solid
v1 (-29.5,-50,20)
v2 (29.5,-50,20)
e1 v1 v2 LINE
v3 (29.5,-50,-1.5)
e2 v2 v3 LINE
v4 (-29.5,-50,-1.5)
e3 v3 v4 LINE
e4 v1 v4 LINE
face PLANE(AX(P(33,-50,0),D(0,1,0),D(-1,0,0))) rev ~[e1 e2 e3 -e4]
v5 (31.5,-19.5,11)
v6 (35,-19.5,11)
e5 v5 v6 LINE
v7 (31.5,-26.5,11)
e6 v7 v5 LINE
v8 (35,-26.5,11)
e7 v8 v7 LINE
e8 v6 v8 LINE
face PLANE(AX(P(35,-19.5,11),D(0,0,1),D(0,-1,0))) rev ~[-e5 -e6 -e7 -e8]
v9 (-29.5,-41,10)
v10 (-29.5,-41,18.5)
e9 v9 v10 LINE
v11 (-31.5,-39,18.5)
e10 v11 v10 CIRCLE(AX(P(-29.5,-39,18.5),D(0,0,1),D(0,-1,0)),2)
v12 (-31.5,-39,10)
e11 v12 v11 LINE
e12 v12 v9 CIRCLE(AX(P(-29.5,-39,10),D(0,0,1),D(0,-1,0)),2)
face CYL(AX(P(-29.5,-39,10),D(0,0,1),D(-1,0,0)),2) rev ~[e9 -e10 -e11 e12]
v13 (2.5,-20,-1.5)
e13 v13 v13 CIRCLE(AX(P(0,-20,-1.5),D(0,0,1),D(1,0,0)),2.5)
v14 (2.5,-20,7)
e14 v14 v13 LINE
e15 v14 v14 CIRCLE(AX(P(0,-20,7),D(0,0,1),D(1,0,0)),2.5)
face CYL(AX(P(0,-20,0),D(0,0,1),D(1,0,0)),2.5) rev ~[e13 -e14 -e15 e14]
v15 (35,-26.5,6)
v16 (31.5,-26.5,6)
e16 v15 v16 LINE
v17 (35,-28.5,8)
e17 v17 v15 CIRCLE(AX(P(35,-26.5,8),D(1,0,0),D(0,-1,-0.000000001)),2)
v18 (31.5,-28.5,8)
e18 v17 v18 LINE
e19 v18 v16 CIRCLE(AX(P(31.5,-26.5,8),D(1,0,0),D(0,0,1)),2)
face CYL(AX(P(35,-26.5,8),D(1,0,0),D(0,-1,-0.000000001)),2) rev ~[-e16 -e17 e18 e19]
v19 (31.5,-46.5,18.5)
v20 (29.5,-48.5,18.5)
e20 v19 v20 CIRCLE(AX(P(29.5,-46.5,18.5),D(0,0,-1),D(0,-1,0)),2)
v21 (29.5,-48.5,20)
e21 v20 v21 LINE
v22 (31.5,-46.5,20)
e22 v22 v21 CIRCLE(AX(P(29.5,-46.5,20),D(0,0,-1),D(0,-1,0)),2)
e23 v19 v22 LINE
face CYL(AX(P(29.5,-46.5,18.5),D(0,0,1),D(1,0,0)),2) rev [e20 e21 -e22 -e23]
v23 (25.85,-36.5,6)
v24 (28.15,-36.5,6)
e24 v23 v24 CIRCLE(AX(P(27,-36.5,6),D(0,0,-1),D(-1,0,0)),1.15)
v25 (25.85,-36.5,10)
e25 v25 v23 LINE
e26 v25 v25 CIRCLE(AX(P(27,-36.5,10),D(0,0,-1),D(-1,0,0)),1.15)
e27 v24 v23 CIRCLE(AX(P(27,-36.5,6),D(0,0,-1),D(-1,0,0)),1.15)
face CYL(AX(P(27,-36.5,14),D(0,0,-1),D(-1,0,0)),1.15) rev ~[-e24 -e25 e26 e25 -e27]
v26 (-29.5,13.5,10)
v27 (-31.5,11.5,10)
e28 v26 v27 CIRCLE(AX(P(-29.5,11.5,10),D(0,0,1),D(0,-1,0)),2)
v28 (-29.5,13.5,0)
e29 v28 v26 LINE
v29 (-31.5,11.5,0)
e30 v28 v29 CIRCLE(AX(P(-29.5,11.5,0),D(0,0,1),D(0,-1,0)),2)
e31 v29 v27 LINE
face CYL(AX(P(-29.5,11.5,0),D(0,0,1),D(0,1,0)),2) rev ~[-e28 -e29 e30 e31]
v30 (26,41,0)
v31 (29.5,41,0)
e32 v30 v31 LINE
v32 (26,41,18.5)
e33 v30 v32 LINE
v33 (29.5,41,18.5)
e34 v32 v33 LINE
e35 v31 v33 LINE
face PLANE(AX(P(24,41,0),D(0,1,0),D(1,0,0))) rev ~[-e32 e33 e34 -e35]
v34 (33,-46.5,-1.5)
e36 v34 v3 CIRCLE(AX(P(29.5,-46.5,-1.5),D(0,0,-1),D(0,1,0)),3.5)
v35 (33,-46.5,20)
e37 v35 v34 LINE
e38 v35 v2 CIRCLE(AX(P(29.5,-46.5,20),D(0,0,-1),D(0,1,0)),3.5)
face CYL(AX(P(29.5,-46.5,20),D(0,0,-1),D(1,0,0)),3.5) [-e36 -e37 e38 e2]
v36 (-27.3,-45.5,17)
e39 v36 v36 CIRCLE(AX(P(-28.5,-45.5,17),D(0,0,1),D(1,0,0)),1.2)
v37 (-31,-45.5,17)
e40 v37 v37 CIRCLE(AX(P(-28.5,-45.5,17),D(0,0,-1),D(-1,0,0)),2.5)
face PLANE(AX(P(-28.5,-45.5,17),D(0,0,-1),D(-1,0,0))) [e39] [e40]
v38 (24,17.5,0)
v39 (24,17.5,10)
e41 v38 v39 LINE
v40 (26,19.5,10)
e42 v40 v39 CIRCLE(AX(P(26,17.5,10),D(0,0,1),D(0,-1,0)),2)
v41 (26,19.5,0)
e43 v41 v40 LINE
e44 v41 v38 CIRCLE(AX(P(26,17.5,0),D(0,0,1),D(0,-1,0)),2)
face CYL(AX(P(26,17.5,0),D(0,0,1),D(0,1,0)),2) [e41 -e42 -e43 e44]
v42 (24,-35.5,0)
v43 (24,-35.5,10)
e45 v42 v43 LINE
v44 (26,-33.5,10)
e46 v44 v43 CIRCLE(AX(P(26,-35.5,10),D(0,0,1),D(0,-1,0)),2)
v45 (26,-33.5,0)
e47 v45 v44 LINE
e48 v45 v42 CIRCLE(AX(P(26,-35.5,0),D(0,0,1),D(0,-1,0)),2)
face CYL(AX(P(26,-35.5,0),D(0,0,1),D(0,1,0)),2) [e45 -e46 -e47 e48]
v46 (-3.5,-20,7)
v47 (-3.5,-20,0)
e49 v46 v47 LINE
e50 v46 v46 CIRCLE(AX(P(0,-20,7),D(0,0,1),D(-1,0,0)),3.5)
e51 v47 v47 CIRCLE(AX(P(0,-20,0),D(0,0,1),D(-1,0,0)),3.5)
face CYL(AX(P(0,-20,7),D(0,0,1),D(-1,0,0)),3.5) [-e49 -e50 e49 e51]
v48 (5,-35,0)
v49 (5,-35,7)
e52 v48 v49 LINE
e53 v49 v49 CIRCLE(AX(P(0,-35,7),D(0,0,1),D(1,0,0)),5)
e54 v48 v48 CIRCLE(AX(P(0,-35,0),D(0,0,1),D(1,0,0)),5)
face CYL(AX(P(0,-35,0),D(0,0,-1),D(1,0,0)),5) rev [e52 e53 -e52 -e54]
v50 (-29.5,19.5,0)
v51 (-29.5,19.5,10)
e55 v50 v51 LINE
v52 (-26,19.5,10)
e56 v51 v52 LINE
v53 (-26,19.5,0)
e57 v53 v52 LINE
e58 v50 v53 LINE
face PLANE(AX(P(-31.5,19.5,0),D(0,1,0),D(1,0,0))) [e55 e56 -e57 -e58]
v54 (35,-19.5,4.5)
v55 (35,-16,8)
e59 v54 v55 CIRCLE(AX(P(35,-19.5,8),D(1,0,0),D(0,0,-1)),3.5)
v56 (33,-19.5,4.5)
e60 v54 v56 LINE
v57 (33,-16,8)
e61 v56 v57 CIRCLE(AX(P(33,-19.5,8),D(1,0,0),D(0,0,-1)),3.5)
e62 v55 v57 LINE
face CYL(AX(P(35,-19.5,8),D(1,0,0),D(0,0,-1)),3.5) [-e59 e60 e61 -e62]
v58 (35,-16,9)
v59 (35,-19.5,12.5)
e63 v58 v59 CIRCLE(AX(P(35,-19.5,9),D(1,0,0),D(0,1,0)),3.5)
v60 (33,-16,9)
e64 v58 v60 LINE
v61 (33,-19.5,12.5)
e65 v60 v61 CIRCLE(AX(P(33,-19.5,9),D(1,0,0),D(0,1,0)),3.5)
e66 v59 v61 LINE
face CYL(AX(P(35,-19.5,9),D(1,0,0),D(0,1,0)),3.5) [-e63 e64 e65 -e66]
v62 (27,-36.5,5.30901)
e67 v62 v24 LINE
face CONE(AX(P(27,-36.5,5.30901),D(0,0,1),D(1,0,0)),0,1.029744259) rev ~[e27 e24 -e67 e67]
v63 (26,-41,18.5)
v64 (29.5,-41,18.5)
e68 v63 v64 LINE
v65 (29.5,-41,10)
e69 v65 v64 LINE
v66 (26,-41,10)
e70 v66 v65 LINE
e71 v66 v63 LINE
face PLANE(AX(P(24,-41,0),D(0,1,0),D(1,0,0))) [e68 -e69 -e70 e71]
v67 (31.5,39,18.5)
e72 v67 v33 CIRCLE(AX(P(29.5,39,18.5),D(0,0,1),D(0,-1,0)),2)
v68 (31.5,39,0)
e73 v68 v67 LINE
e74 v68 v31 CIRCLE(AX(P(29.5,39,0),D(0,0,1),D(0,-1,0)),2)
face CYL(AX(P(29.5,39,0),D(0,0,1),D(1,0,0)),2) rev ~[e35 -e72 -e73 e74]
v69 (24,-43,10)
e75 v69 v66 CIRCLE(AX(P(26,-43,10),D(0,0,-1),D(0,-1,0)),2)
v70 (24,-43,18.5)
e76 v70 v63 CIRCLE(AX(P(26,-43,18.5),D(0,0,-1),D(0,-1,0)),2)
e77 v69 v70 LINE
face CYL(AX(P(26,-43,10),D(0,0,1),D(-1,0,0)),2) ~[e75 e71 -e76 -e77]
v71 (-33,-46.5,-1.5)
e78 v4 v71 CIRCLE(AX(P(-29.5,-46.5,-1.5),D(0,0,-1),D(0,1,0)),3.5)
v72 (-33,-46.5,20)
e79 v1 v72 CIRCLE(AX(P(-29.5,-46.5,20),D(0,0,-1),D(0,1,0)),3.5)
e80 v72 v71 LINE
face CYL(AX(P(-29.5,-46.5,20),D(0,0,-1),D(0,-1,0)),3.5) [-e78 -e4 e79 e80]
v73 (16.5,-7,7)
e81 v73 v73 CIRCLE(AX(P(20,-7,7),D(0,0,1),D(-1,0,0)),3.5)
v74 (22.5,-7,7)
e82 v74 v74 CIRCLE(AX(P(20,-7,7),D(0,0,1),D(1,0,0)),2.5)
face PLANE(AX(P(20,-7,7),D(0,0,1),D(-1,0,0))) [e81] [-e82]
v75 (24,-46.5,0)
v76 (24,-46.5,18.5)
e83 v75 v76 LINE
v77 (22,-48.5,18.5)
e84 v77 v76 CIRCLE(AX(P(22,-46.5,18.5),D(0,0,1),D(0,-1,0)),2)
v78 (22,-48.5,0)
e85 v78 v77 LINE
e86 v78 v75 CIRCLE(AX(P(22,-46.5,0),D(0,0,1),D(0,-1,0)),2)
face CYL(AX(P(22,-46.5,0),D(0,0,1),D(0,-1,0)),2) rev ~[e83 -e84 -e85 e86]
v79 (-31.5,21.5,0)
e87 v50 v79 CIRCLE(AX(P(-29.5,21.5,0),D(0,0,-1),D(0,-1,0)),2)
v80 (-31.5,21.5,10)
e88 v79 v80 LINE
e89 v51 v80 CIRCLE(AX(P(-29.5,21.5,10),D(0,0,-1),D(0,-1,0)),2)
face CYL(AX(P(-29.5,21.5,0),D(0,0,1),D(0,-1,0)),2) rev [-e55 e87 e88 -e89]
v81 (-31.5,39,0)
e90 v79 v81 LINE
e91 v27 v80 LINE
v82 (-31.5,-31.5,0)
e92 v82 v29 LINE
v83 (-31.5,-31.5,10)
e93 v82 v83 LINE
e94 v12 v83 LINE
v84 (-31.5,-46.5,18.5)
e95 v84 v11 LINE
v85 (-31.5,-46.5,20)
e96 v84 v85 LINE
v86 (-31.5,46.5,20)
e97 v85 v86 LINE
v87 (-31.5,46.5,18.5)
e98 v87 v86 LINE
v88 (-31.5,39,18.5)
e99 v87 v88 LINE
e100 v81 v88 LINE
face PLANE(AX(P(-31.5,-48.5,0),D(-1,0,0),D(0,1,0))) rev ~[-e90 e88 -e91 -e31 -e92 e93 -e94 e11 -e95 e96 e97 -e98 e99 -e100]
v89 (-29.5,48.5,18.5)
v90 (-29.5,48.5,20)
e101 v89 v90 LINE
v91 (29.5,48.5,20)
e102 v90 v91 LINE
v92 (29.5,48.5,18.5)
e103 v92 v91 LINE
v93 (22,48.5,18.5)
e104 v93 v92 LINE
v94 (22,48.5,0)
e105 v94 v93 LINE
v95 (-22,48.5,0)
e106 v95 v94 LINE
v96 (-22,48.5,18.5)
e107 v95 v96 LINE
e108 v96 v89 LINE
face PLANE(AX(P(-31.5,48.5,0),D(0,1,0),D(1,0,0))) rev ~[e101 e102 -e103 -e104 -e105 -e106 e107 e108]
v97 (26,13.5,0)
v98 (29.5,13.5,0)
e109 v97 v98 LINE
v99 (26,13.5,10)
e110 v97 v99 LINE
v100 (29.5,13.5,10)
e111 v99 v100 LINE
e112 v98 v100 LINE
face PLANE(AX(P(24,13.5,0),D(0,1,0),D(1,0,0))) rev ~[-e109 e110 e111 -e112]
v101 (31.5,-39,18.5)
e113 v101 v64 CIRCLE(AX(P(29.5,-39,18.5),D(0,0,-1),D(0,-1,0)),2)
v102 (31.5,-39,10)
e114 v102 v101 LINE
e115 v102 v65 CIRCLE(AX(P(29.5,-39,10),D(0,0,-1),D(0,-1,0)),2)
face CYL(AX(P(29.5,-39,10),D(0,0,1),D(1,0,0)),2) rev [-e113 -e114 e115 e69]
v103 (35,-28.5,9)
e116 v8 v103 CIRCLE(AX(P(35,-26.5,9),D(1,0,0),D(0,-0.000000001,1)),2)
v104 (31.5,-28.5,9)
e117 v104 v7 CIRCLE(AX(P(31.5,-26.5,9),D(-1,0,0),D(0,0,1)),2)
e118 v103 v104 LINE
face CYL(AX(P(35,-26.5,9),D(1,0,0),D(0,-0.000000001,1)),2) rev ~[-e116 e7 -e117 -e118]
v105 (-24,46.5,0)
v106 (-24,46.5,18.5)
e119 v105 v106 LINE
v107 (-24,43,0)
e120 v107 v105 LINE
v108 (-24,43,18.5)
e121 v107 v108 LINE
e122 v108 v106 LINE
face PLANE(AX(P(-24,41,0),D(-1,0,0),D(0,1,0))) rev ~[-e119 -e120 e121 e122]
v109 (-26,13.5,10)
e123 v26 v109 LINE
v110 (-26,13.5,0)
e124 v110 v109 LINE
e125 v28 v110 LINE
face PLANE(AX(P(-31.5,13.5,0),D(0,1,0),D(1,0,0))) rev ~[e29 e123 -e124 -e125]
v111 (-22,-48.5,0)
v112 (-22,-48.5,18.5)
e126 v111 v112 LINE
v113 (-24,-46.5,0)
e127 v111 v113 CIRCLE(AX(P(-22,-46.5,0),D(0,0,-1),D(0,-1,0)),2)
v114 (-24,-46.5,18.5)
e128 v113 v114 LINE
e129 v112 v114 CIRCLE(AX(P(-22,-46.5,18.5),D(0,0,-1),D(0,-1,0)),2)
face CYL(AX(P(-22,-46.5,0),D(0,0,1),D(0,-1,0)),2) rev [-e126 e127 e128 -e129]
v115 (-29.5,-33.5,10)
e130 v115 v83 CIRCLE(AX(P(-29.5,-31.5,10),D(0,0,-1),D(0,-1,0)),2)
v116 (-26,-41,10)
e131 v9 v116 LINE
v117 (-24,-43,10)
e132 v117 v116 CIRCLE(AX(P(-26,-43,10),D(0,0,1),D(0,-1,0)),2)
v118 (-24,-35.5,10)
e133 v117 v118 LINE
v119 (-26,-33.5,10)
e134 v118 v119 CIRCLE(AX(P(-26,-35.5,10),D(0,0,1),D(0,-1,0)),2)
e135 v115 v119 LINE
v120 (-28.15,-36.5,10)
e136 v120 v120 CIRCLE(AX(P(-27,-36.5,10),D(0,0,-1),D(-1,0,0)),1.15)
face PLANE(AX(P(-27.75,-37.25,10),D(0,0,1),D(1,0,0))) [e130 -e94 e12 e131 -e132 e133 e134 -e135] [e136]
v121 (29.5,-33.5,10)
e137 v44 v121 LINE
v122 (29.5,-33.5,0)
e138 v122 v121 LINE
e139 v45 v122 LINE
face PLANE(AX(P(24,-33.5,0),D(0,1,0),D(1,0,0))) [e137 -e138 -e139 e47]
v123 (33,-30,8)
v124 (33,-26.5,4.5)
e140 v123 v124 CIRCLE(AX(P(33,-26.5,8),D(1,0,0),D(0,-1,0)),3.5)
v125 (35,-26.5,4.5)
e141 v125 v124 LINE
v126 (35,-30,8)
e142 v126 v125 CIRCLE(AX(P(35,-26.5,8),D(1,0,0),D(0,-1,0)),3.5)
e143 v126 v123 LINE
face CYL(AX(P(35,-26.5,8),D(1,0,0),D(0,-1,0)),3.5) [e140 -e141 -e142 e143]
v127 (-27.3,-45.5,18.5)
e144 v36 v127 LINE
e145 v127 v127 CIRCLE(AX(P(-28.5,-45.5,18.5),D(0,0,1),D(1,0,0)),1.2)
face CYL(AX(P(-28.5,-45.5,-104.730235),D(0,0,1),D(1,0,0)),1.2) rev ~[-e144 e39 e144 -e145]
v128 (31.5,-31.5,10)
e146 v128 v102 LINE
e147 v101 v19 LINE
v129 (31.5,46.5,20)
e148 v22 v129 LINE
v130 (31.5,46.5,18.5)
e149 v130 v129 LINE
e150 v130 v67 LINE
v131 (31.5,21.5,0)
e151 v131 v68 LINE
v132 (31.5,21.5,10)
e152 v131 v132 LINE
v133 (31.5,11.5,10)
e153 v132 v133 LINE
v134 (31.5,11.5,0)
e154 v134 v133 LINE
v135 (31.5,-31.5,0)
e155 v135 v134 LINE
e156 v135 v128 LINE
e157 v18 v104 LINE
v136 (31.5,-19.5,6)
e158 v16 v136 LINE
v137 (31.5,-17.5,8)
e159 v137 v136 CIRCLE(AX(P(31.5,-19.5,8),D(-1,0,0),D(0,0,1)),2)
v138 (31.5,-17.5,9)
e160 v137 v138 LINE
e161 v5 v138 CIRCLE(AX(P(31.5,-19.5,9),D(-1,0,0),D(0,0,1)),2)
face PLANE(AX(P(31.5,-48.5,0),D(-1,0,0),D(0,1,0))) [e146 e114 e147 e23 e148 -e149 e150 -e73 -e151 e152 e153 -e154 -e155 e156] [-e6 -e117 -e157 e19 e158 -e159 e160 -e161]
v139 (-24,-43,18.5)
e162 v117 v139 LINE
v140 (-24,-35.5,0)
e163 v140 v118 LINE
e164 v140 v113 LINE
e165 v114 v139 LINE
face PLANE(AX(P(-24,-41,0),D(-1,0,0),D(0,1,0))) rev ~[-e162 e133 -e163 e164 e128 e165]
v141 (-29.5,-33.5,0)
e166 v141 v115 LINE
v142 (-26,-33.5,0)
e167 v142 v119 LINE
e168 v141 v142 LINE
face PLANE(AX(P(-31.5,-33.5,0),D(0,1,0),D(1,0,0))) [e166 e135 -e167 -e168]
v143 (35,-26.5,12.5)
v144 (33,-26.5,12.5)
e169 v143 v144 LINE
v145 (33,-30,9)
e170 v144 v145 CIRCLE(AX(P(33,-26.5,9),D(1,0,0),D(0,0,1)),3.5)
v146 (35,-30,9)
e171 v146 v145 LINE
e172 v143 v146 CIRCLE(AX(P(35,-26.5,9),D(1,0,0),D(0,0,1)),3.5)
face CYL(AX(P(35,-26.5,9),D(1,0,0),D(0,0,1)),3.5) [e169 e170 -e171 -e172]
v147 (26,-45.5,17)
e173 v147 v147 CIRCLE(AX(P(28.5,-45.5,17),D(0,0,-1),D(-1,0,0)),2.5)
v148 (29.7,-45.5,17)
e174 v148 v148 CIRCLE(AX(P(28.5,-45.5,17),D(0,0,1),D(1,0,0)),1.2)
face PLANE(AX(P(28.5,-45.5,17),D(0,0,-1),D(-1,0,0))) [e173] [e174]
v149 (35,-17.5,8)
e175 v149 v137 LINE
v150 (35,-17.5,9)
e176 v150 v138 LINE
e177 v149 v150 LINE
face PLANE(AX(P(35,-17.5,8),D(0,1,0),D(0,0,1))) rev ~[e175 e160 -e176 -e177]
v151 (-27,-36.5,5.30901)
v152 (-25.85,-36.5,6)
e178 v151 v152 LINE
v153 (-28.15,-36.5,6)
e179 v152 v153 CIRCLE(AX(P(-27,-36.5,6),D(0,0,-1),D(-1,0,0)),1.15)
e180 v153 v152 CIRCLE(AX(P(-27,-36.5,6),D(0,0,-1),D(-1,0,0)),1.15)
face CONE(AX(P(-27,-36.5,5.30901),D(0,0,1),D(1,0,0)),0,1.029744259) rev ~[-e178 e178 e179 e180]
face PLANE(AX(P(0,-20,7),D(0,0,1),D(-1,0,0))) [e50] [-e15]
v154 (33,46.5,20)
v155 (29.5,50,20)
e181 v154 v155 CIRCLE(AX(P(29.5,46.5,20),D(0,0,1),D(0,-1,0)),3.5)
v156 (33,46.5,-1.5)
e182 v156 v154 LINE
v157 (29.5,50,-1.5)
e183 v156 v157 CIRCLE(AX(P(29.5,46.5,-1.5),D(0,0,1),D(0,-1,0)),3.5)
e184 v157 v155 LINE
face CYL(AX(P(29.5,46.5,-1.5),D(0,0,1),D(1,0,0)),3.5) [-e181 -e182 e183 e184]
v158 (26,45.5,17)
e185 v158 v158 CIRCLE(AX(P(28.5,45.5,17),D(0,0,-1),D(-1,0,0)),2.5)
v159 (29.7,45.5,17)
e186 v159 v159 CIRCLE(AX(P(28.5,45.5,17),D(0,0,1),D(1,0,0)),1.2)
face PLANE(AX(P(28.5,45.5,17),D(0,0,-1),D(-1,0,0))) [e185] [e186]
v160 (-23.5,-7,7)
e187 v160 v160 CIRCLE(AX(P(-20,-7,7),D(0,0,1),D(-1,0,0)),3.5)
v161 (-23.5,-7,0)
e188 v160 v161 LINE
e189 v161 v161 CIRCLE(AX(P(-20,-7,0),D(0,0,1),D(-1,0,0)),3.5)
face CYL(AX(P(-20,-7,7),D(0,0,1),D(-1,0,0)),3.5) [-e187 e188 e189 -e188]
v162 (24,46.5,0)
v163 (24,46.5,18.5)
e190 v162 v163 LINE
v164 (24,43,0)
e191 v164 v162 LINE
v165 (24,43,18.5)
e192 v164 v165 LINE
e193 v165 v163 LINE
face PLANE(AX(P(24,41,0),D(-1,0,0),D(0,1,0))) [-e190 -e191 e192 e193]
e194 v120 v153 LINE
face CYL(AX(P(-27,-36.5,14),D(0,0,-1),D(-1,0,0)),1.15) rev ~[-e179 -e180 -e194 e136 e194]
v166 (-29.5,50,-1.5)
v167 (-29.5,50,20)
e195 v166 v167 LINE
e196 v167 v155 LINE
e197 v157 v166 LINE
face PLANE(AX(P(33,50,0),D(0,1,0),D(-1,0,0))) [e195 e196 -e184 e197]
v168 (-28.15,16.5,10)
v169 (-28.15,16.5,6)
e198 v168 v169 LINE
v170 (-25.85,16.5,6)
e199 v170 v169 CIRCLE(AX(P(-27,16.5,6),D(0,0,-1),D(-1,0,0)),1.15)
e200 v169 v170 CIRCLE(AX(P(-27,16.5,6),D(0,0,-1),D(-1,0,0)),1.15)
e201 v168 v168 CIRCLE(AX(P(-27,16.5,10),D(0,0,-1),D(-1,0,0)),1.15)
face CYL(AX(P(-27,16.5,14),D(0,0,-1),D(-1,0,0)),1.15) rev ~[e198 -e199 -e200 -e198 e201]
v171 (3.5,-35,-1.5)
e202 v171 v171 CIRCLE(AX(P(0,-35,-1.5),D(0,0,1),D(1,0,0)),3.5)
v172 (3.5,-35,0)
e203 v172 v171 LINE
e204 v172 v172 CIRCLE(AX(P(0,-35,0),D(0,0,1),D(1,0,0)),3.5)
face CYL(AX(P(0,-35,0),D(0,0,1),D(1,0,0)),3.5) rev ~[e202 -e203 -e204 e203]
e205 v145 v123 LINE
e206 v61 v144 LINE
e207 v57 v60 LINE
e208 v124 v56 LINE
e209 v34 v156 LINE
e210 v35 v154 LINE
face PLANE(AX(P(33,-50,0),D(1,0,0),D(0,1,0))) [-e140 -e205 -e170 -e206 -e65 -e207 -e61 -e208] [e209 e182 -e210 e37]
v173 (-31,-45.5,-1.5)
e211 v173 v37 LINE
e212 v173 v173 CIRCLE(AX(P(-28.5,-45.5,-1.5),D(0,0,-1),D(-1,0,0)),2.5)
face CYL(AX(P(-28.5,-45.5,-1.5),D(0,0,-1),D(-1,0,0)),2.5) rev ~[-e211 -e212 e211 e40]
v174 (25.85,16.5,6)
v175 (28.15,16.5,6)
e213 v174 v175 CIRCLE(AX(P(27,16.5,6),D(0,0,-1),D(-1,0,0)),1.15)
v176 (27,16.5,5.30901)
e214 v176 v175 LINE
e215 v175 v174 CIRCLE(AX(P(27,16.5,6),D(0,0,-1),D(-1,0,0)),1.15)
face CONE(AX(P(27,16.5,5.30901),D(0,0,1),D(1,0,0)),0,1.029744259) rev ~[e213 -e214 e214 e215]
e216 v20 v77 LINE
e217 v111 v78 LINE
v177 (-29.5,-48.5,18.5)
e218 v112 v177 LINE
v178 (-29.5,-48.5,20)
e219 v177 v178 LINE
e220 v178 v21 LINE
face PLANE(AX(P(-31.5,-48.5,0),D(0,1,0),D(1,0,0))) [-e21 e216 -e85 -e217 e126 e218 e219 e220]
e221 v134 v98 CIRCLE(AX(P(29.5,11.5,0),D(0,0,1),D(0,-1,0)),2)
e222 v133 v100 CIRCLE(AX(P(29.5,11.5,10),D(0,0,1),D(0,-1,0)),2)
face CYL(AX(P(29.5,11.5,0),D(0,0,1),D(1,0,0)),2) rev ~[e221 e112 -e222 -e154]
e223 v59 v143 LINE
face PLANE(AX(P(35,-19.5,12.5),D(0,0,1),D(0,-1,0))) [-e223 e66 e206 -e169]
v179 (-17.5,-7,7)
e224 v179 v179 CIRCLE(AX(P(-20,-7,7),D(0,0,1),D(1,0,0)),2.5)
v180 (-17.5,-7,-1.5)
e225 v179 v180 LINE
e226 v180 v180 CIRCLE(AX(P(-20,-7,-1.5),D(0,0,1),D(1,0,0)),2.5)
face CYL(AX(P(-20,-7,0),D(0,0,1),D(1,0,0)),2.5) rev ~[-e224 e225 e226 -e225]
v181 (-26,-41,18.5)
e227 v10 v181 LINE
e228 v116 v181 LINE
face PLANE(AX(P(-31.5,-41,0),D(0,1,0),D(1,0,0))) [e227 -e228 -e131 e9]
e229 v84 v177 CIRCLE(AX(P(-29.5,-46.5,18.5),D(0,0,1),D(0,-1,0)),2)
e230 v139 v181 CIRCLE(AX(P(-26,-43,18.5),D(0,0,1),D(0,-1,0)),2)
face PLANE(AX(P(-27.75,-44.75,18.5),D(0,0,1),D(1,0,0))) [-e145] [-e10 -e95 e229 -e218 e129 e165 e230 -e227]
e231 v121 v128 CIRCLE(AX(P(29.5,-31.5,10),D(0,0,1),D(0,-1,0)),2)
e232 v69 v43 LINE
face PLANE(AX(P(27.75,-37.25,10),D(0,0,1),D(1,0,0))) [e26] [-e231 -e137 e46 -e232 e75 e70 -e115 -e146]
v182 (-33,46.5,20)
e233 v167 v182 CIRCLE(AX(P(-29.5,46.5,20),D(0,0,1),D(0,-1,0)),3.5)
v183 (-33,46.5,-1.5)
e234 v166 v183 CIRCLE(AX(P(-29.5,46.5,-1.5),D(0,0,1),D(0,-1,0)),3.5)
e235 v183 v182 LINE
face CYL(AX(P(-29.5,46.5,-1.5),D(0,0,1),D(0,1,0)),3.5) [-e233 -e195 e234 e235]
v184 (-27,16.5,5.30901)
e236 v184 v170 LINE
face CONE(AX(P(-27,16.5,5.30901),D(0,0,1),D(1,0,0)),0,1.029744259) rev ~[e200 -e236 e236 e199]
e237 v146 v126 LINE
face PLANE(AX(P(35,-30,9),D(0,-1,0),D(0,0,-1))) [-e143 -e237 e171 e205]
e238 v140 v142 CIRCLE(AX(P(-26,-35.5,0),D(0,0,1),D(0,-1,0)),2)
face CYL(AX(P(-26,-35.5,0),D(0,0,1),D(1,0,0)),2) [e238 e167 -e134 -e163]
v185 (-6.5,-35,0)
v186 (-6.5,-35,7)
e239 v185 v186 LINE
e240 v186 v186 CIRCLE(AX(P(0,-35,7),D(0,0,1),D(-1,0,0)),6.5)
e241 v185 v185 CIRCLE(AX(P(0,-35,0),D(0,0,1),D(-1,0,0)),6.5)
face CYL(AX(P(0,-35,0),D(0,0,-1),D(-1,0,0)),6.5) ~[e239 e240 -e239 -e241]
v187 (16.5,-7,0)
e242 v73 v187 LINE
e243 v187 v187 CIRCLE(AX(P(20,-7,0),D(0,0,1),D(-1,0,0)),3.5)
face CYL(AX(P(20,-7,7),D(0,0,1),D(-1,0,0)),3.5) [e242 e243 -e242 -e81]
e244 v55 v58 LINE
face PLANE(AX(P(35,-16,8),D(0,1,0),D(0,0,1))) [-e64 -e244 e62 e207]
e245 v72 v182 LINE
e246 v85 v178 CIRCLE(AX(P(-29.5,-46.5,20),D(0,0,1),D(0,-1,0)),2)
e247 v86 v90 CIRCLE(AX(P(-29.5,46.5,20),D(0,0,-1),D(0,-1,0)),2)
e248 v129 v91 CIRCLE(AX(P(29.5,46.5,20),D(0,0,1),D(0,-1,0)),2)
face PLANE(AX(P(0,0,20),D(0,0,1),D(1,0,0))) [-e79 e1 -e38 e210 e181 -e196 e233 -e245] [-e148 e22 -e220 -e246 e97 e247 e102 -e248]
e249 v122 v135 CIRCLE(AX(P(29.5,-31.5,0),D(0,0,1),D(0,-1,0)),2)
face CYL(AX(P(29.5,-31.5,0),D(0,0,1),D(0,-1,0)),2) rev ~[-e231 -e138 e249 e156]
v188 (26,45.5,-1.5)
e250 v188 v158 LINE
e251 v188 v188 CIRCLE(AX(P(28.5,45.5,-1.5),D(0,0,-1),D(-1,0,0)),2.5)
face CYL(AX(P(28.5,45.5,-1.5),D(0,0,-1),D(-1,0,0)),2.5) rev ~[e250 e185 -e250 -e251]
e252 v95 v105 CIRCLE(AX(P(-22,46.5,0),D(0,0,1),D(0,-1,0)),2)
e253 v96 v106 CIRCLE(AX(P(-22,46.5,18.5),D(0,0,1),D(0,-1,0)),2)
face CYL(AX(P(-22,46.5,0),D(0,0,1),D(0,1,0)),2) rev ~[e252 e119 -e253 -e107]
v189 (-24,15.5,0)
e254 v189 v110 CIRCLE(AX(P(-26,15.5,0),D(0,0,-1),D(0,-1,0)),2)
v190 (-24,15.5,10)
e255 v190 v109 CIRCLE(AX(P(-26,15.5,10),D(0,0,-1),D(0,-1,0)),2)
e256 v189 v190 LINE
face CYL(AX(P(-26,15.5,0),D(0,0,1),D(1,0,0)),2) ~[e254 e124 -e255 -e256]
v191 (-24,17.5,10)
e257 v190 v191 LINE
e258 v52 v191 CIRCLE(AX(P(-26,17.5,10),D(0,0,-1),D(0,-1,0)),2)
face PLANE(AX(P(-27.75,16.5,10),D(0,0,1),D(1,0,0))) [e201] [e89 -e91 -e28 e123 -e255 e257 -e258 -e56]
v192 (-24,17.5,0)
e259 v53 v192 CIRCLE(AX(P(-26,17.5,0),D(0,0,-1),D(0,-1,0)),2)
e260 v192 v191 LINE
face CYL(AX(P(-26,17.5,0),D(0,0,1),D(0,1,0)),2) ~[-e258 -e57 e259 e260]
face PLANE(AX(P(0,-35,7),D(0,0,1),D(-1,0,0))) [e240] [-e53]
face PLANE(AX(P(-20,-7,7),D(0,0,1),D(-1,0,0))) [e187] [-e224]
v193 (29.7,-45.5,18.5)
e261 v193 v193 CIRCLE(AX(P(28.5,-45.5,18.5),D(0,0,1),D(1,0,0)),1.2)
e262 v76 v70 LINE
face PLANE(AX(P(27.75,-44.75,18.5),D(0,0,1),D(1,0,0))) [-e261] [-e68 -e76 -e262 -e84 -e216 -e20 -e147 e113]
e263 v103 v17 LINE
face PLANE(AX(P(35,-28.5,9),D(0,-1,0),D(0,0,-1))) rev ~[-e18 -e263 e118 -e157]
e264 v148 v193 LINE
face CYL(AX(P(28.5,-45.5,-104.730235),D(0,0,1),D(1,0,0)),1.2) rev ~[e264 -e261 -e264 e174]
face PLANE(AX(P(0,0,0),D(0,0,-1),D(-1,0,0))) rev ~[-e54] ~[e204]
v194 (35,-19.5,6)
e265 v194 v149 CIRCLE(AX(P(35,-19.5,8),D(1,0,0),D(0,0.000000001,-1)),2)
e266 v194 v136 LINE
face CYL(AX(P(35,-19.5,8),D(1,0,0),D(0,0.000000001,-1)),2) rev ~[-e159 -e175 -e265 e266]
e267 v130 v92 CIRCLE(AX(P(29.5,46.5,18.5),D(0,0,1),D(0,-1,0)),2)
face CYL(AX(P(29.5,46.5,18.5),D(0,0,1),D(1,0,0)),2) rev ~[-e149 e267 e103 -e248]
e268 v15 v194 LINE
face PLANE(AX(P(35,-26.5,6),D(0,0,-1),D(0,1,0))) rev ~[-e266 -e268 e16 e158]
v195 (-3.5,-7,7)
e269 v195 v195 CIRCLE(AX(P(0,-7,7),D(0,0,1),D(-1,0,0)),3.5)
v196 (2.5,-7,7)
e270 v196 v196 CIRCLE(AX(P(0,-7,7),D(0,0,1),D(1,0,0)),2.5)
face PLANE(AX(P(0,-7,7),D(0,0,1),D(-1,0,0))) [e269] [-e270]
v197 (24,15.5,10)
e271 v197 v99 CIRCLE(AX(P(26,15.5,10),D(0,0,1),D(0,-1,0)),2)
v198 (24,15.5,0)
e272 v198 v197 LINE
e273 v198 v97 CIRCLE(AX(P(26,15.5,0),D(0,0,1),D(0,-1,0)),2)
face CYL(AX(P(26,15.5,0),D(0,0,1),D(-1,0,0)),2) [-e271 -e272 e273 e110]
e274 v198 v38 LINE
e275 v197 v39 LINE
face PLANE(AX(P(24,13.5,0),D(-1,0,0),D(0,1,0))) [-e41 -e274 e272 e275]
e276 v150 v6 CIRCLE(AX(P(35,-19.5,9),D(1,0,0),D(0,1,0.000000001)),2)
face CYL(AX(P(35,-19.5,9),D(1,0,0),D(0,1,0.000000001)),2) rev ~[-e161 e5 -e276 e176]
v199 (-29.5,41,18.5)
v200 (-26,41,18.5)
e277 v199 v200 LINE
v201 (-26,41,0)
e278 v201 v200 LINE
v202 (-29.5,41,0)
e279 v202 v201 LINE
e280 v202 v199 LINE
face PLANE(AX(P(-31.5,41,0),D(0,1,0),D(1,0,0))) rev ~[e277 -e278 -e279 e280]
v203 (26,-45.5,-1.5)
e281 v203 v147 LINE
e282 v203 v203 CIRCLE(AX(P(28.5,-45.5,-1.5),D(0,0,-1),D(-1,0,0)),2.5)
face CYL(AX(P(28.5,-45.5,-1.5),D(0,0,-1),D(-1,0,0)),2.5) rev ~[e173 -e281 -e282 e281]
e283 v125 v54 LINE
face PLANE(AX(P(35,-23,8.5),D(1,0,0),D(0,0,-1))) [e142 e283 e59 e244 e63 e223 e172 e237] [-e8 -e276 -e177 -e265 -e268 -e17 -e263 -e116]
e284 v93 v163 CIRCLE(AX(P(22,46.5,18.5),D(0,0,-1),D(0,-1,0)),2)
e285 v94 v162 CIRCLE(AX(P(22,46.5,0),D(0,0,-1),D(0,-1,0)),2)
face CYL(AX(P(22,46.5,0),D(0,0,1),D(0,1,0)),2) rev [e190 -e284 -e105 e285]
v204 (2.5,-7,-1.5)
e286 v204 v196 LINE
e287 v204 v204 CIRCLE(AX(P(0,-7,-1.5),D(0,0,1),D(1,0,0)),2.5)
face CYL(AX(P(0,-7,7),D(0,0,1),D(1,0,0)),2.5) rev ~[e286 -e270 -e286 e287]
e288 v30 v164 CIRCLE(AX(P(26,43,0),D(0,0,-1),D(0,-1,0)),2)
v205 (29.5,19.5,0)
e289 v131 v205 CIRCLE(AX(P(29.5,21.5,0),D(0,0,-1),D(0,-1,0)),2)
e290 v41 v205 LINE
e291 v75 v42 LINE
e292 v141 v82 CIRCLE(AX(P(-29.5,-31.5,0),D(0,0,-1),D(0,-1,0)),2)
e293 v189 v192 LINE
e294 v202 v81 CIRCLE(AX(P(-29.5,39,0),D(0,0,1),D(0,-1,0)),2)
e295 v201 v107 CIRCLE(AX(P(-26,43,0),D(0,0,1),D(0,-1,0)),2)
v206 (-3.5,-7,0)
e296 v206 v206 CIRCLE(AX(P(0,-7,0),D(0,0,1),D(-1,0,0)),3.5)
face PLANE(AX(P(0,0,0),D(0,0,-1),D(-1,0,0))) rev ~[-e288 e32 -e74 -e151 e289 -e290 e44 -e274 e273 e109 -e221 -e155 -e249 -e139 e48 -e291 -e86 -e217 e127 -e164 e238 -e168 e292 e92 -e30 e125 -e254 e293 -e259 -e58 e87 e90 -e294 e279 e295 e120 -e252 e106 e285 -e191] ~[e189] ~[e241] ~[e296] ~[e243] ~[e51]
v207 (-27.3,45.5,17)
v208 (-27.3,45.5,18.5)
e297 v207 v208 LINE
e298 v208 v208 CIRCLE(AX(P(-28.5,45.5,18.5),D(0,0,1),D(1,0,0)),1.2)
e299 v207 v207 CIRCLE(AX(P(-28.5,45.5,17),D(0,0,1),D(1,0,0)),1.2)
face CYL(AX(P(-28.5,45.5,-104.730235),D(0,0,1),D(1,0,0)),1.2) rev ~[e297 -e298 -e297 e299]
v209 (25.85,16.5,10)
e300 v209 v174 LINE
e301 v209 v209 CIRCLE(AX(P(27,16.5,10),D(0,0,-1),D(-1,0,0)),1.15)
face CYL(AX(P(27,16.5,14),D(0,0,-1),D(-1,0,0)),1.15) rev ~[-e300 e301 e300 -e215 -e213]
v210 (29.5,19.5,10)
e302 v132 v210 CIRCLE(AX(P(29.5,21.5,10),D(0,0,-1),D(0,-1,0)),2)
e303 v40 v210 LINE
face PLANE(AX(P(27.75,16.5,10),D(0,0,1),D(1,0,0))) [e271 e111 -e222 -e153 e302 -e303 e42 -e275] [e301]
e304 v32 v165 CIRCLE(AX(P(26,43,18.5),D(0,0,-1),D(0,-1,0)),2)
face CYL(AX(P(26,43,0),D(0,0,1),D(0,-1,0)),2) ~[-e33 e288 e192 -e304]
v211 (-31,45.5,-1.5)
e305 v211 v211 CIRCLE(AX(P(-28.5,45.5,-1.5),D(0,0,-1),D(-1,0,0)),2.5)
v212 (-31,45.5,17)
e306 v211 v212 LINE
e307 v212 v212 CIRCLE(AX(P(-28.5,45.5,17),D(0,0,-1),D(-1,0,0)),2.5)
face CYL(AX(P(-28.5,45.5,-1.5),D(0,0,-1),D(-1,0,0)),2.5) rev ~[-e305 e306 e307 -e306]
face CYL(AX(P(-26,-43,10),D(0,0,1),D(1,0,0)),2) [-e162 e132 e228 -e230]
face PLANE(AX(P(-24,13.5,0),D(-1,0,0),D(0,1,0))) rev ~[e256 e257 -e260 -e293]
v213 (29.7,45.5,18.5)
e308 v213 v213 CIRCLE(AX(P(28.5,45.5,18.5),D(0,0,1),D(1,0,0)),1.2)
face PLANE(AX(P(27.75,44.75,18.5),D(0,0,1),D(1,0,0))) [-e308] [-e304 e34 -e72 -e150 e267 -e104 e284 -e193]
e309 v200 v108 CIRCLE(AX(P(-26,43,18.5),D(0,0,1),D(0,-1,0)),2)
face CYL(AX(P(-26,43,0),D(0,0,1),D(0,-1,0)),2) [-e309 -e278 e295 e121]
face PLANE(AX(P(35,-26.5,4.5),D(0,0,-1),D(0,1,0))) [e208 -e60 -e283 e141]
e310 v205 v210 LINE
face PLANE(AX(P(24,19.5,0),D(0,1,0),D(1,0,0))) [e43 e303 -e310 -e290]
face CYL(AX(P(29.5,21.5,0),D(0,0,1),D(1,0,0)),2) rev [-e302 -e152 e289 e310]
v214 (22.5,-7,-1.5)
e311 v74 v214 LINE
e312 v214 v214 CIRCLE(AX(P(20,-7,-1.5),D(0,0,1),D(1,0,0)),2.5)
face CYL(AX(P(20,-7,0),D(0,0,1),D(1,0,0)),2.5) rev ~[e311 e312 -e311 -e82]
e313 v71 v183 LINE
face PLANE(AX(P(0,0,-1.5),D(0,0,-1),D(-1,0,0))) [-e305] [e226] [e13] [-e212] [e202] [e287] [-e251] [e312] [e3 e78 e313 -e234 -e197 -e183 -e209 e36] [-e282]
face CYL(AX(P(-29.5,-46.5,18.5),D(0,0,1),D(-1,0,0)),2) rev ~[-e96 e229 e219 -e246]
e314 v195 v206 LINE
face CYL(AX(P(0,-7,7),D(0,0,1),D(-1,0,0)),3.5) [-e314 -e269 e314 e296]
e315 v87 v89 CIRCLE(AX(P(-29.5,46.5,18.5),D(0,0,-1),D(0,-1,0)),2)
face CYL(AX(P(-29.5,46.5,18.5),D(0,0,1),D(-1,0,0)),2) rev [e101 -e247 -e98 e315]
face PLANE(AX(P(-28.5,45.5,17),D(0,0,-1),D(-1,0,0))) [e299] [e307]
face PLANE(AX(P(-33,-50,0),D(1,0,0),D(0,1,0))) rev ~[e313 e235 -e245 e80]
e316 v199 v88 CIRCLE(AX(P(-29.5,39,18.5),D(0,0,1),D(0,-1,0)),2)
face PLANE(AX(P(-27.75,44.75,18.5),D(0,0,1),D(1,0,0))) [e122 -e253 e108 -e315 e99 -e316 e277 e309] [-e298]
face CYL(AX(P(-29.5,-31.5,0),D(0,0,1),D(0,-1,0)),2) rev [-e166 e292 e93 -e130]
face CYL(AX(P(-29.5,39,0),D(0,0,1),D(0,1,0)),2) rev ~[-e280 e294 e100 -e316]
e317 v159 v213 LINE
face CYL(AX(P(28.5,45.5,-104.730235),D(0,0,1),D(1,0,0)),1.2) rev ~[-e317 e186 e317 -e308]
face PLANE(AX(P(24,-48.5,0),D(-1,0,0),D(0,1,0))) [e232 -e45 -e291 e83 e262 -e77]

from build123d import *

# Parameters (mm, degrees)
SKETCH_1_W              = 66
SKETCH_1_H              = 100
SKETCH_1_W_2            = 63
SKETCH_1_H_2            = 97
EXTRUDE_1_DEPTH         = 20
SKETCH_3_W              = 66
SKETCH_3_H              = 100
EXTRUDE_2_DEPTH         = 1.5
SKETCH_4_W              = 7.5
SKETCH_4_H              = 6
SKETCH_4_H_2            = 7.5
EXTRUDE_3_DEPTH         = 10
HOLE_WIZARD_M2_21_D     = 2.3
HOLE_WIZARD_M2_21_DEPTH = 4
HOLE_WIZARD_M2_21_TIP   = 0.690989712
SKETCH_8_W              = 7.5
SKETCH_8_H              = 7.5
EXTRUDE_4_DEPTH         = 18.5
FILLET_1_R              = 2
FILLET_3_R              = 2
FILLET_4_R              = 3.5
SKETCH_9_R              = 2.5
SKETCH_9_R_2            = 3.5
CUT_EXTRUDE_1_DEPTH     = 64.158530699
EXTRUDE_START           = 7
SKETCH_10_R             = 3.5
SKETCH_10_R_2           = 2.5
EXTRUDE_5_DEPTH         = 7
SKETCH_11_R             = 2.5
CUT_EXTRUDE_2_DEPTH     = 18.5
HOLE_WIZARD_M21_D       = 2.4
SKETCH_15_W             = 5
SKETCH_15_H             = 11
CUT_EXTRUDE_3_DEPTH     = 85.025293811
FILLET_5_R              = 2
SKETCH_16_R             = 6.5
SKETCH_16_R_2           = 5
EXTRUDE_6_DEPTH         = 7
EXTRUDE_START_2         = 2
EXTRUDE_7_DEPTH         = 2


with BuildPart() as part:
    # Эскиз1 → Бобышка-Вытянуть1 (new body)
    with BuildSketch(Plane.XY):
        Rectangle(SKETCH_1_W, SKETCH_1_H)
        Rectangle(SKETCH_1_W_2, SKETCH_1_H_2, mode=Mode.SUBTRACT)
    extrude(amount=EXTRUDE_1_DEPTH)

    # Эскиз3 → Бобышка-Вытянуть2 (add)
    with BuildSketch(Plane(origin=(0, 0, 0), x_dir=(-1, 0, 0), z_dir=(0, 0, -1))):
        Rectangle(SKETCH_3_W, SKETCH_3_H)
    extrude(amount=EXTRUDE_2_DEPTH)

    # Эскиз4 → Бобышка-Вытянуть3 (add)
    with BuildSketch(Plane.XY):
        with Locations((-27.75, 16.5)):
            Rectangle(SKETCH_4_W, SKETCH_4_H)
        with Locations((27.75, 16.5)):
            Rectangle(SKETCH_4_W, SKETCH_4_H)
        with Locations((-27.75, -37.25)):
            Rectangle(SKETCH_4_W, SKETCH_4_H_2)
        with Locations((27.75, -37.25)):
            Rectangle(SKETCH_4_W, SKETCH_4_H_2)
    extrude(amount=EXTRUDE_3_DEPTH)

    # Сверло под метчик  спиральное M2.21
    with Locations(Plane.XY.offset(10)):
        with Locations((-27, 16.5), (27, 16.5), (27, -36.5), (-27, -36.5)):
            Hole(HOLE_WIZARD_M2_21_D / 2, depth=HOLE_WIZARD_M2_21_DEPTH)
            with Locations((0, 0, -(HOLE_WIZARD_M2_21_DEPTH + HOLE_WIZARD_M2_21_TIP / 2))):  # 118° drill point
                Cone(0, HOLE_WIZARD_M2_21_D / 2, HOLE_WIZARD_M2_21_TIP, mode=Mode.SUBTRACT)

    # Эскиз8 → Бобышка-Вытянуть4 (add)
    with BuildSketch(Plane.XY):
        with Locations((-27.75, 44.75)):
            Rectangle(SKETCH_8_W, SKETCH_8_H)
        with Locations((27.75, 44.75)):
            Rectangle(SKETCH_8_W, SKETCH_8_H)
        with Locations((27.75, -44.75)):
            Rectangle(SKETCH_8_W, SKETCH_8_H)
        with Locations((-27.75, -44.75)):
            Rectangle(SKETCH_8_W, SKETCH_8_H)
    extrude(amount=EXTRUDE_4_DEPTH)

    # Скругление1
    fillet_1_edges = [part.edges().sort_by_distance(p)[0] for p in [
        (-31.5, 41, 9.25),
        (-24, 41, 9.25),
        (-24, 48.5, 9.25),
        (31.5, 41, 9.25),
        (24, 48.5, 9.25),
        (24, 41, 9.25),
        (24, -48.5, 9.25),
        (-24, -48.5, 9.25),
        (-31.5, 19.5, 5),
        (-31.5, 13.5, 5),
        (-24, 13.5, 5),
        (-24, 19.5, 5),
        (31.5, 13.5, 5),
        (31.5, 19.5, 5),
        (24, 19.5, 5),
        (24, 13.5, 5),
        (-31.5, -33.5, 5),
        (-24, -33.5, 5),
        (31.5, -33.5, 5),
        (24, -33.5, 5),
    ]]
    fillet(fillet_1_edges, radius=FILLET_1_R)

    # Скругление3
    fillet_3_edges = [part.edges().sort_by_distance(p)[0] for p in [
        (31.5, -41, 14.25),
        (24, -41, 14.25),
        (-24, -41, 14.25),
        (31.5, -48.5, 19.25),
        (-31.5, -41, 14.25),
        (31.5, 48.5, 19.25),
        (-31.5, 48.5, 19.25),
        (-31.5, -48.5, 19.25),
    ]]
    fillet(fillet_3_edges, radius=FILLET_3_R)

    # Скругление4
    fillet_4_edges = [part.edges().sort_by_distance(p)[0] for p in [
        (33, -50, 9.25),
        (-33, -50, 9.25),
        (-33, 50, 9.25),
        (33, 50, 9.25),
    ]]
    fillet(fillet_4_edges, radius=FILLET_4_R)

    # Эскиз9 → Вырез-Вытянуть1 (cut, through all)
    with BuildSketch(Plane.XY):
        with Locations((-20, -7)):
            Circle(SKETCH_9_R)
        with Locations((20, -7)):
            Circle(SKETCH_9_R)
        with Locations((0, -20)):
            Circle(SKETCH_9_R)
        with Locations((0, -7)):
            Circle(SKETCH_9_R)
        with Locations((0, -35)):
            Circle(SKETCH_9_R_2)
    extrude(amount=-CUT_EXTRUDE_1_DEPTH, mode=Mode.SUBTRACT)

    # Эскиз10 → Бобышка-Вытянуть5 (add)
    # profile 1 of 4: a face of its own
    with BuildSketch(Plane.XY.offset(EXTRUDE_START)):
        with Locations(Location((0, -7, 0), (0, 0, 180))):
            Circle(SKETCH_10_R)
        with Locations((0, -7)):
            Circle(SKETCH_10_R_2, mode=Mode.SUBTRACT)
    # profile 2 of 4: a face of its own
    with BuildSketch(Plane.XY.offset(EXTRUDE_START)):
        with Locations(Location((20, -7, 0), (0, 0, 180))):
            Circle(SKETCH_10_R)
        with Locations((20, -7)):
            Circle(SKETCH_10_R_2, mode=Mode.SUBTRACT)
    # profile 3 of 4: a face of its own
    with BuildSketch(Plane.XY.offset(EXTRUDE_START)):
        with Locations(Location((0, -20, 0), (0, 0, 180))):
            Circle(SKETCH_10_R)
        with Locations((0, -20)):
            Circle(SKETCH_10_R_2, mode=Mode.SUBTRACT)
    # profile 4 of 4: a face of its own
    with BuildSketch(Plane.XY.offset(EXTRUDE_START)):
        with Locations(Location((-20, -7, 0), (0, 0, 180))):
            Circle(SKETCH_10_R)
        with Locations((-20, -7)):
            Circle(SKETCH_10_R_2, mode=Mode.SUBTRACT)
    extrude(amount=-EXTRUDE_5_DEPTH)

    # Эскиз11 → Вырез-Вытянуть2 (cut)
    with BuildSketch(Plane(origin=(0, 0, -1.5), x_dir=(-1, 0, 0), z_dir=(0, 0, -1))):
        with Locations((-28.5, 45.5)):
            Circle(SKETCH_11_R)
        with Locations((28.5, 45.5)):
            Circle(SKETCH_11_R)
        with Locations((28.5, -45.5)):
            Circle(SKETCH_11_R)
        with Locations((-28.5, -45.5)):
            Circle(SKETCH_11_R)
    extrude(amount=-CUT_EXTRUDE_2_DEPTH, mode=Mode.SUBTRACT)

    # Отверстие с зазором M21 (through all)
    with Locations(Plane(origin=(0, 0, 17), x_dir=(-1, 0, 0), z_dir=(0, 0, -1))):
        with Locations((-28.5, 45.5), (28.5, 45.5), (28.5, -45.5), (-28.5, -45.5)):
            Hole(HOLE_WIZARD_M21_D / 2)

    # Эскиз15 → Вырез-Вытянуть3 (cut, through all)
    with BuildSketch(Plane.ZY.offset(-31.5)):
        with Locations((8.5, -23)):
            Rectangle(SKETCH_15_W, SKETCH_15_H)
    extrude(amount=-CUT_EXTRUDE_3_DEPTH, mode=Mode.SUBTRACT)

    # Скругление5
    fillet_5_edges = [part.edges().sort_by_distance(p)[0] for p in [
        (32.25, -28.5, 6),
        (32.25, -17.5, 6),
        (32.25, -17.5, 11),
        (32.25, -28.5, 11),
    ]]
    fillet(fillet_5_edges, radius=FILLET_5_R)

    # Эскиз16 → Бобышка-Вытянуть6 (add)
    with BuildSketch(Plane.XY):
        with Locations(Location((0, -35, 0), (0, 0, 180))):
            Circle(SKETCH_16_R)
        with Locations((0, -35)):
            Circle(SKETCH_16_R_2, mode=Mode.SUBTRACT)
    extrude(amount=EXTRUDE_6_DEPTH)

    # Эскиз19 → Бобышка-Вытянуть7 (add)
    with BuildSketch(Plane(origin=(33, 0, 0), x_dir=(0, 0, -1), z_dir=(1, 0, 0)).offset(EXTRUDE_START_2)):
        with BuildLine():
            Line((-4.5, -26.5), (-4.5, -19.5))
            ThreePointArc((-4.5, -19.5), (-5.525126266, -17.025126266), (-8, -16))
            Line((-8, -16), (-9, -16))
            ThreePointArc((-9, -16), (-11.474873734, -17.025126266), (-12.5, -19.5))
            Line((-12.5, -19.5), (-12.5, -26.5))
            ThreePointArc((-12.5, -26.5), (-11.474873734, -28.974873734), (-9, -30))
            Line((-9, -30), (-8, -30))
            ThreePointArc((-8, -30), (-5.525126266, -28.974873734), (-4.5, -26.5))
        make_face()
        with BuildLine():
            Line((-11, -19.5), (-11, -26.5))
            ThreePointArc((-11, -26.5), (-10.414213562, -27.914213562), (-9, -28.5))
            Line((-9, -28.5), (-8, -28.5))
            ThreePointArc((-8, -28.5), (-6.585786438, -27.914213562), (-6, -26.5))
            Line((-6, -26.5), (-6, -19.5))
            ThreePointArc((-6, -19.5), (-6.585786438, -18.085786438), (-8, -17.5))
            Line((-8, -17.5), (-9, -17.5))
            ThreePointArc((-9, -17.5), (-10.414213562, -18.085786438), (-11, -19.5))
        make_face(mode=Mode.SUBTRACT)
    extrude(amount=-EXTRUDE_7_DEPTH)


solid = part.part
